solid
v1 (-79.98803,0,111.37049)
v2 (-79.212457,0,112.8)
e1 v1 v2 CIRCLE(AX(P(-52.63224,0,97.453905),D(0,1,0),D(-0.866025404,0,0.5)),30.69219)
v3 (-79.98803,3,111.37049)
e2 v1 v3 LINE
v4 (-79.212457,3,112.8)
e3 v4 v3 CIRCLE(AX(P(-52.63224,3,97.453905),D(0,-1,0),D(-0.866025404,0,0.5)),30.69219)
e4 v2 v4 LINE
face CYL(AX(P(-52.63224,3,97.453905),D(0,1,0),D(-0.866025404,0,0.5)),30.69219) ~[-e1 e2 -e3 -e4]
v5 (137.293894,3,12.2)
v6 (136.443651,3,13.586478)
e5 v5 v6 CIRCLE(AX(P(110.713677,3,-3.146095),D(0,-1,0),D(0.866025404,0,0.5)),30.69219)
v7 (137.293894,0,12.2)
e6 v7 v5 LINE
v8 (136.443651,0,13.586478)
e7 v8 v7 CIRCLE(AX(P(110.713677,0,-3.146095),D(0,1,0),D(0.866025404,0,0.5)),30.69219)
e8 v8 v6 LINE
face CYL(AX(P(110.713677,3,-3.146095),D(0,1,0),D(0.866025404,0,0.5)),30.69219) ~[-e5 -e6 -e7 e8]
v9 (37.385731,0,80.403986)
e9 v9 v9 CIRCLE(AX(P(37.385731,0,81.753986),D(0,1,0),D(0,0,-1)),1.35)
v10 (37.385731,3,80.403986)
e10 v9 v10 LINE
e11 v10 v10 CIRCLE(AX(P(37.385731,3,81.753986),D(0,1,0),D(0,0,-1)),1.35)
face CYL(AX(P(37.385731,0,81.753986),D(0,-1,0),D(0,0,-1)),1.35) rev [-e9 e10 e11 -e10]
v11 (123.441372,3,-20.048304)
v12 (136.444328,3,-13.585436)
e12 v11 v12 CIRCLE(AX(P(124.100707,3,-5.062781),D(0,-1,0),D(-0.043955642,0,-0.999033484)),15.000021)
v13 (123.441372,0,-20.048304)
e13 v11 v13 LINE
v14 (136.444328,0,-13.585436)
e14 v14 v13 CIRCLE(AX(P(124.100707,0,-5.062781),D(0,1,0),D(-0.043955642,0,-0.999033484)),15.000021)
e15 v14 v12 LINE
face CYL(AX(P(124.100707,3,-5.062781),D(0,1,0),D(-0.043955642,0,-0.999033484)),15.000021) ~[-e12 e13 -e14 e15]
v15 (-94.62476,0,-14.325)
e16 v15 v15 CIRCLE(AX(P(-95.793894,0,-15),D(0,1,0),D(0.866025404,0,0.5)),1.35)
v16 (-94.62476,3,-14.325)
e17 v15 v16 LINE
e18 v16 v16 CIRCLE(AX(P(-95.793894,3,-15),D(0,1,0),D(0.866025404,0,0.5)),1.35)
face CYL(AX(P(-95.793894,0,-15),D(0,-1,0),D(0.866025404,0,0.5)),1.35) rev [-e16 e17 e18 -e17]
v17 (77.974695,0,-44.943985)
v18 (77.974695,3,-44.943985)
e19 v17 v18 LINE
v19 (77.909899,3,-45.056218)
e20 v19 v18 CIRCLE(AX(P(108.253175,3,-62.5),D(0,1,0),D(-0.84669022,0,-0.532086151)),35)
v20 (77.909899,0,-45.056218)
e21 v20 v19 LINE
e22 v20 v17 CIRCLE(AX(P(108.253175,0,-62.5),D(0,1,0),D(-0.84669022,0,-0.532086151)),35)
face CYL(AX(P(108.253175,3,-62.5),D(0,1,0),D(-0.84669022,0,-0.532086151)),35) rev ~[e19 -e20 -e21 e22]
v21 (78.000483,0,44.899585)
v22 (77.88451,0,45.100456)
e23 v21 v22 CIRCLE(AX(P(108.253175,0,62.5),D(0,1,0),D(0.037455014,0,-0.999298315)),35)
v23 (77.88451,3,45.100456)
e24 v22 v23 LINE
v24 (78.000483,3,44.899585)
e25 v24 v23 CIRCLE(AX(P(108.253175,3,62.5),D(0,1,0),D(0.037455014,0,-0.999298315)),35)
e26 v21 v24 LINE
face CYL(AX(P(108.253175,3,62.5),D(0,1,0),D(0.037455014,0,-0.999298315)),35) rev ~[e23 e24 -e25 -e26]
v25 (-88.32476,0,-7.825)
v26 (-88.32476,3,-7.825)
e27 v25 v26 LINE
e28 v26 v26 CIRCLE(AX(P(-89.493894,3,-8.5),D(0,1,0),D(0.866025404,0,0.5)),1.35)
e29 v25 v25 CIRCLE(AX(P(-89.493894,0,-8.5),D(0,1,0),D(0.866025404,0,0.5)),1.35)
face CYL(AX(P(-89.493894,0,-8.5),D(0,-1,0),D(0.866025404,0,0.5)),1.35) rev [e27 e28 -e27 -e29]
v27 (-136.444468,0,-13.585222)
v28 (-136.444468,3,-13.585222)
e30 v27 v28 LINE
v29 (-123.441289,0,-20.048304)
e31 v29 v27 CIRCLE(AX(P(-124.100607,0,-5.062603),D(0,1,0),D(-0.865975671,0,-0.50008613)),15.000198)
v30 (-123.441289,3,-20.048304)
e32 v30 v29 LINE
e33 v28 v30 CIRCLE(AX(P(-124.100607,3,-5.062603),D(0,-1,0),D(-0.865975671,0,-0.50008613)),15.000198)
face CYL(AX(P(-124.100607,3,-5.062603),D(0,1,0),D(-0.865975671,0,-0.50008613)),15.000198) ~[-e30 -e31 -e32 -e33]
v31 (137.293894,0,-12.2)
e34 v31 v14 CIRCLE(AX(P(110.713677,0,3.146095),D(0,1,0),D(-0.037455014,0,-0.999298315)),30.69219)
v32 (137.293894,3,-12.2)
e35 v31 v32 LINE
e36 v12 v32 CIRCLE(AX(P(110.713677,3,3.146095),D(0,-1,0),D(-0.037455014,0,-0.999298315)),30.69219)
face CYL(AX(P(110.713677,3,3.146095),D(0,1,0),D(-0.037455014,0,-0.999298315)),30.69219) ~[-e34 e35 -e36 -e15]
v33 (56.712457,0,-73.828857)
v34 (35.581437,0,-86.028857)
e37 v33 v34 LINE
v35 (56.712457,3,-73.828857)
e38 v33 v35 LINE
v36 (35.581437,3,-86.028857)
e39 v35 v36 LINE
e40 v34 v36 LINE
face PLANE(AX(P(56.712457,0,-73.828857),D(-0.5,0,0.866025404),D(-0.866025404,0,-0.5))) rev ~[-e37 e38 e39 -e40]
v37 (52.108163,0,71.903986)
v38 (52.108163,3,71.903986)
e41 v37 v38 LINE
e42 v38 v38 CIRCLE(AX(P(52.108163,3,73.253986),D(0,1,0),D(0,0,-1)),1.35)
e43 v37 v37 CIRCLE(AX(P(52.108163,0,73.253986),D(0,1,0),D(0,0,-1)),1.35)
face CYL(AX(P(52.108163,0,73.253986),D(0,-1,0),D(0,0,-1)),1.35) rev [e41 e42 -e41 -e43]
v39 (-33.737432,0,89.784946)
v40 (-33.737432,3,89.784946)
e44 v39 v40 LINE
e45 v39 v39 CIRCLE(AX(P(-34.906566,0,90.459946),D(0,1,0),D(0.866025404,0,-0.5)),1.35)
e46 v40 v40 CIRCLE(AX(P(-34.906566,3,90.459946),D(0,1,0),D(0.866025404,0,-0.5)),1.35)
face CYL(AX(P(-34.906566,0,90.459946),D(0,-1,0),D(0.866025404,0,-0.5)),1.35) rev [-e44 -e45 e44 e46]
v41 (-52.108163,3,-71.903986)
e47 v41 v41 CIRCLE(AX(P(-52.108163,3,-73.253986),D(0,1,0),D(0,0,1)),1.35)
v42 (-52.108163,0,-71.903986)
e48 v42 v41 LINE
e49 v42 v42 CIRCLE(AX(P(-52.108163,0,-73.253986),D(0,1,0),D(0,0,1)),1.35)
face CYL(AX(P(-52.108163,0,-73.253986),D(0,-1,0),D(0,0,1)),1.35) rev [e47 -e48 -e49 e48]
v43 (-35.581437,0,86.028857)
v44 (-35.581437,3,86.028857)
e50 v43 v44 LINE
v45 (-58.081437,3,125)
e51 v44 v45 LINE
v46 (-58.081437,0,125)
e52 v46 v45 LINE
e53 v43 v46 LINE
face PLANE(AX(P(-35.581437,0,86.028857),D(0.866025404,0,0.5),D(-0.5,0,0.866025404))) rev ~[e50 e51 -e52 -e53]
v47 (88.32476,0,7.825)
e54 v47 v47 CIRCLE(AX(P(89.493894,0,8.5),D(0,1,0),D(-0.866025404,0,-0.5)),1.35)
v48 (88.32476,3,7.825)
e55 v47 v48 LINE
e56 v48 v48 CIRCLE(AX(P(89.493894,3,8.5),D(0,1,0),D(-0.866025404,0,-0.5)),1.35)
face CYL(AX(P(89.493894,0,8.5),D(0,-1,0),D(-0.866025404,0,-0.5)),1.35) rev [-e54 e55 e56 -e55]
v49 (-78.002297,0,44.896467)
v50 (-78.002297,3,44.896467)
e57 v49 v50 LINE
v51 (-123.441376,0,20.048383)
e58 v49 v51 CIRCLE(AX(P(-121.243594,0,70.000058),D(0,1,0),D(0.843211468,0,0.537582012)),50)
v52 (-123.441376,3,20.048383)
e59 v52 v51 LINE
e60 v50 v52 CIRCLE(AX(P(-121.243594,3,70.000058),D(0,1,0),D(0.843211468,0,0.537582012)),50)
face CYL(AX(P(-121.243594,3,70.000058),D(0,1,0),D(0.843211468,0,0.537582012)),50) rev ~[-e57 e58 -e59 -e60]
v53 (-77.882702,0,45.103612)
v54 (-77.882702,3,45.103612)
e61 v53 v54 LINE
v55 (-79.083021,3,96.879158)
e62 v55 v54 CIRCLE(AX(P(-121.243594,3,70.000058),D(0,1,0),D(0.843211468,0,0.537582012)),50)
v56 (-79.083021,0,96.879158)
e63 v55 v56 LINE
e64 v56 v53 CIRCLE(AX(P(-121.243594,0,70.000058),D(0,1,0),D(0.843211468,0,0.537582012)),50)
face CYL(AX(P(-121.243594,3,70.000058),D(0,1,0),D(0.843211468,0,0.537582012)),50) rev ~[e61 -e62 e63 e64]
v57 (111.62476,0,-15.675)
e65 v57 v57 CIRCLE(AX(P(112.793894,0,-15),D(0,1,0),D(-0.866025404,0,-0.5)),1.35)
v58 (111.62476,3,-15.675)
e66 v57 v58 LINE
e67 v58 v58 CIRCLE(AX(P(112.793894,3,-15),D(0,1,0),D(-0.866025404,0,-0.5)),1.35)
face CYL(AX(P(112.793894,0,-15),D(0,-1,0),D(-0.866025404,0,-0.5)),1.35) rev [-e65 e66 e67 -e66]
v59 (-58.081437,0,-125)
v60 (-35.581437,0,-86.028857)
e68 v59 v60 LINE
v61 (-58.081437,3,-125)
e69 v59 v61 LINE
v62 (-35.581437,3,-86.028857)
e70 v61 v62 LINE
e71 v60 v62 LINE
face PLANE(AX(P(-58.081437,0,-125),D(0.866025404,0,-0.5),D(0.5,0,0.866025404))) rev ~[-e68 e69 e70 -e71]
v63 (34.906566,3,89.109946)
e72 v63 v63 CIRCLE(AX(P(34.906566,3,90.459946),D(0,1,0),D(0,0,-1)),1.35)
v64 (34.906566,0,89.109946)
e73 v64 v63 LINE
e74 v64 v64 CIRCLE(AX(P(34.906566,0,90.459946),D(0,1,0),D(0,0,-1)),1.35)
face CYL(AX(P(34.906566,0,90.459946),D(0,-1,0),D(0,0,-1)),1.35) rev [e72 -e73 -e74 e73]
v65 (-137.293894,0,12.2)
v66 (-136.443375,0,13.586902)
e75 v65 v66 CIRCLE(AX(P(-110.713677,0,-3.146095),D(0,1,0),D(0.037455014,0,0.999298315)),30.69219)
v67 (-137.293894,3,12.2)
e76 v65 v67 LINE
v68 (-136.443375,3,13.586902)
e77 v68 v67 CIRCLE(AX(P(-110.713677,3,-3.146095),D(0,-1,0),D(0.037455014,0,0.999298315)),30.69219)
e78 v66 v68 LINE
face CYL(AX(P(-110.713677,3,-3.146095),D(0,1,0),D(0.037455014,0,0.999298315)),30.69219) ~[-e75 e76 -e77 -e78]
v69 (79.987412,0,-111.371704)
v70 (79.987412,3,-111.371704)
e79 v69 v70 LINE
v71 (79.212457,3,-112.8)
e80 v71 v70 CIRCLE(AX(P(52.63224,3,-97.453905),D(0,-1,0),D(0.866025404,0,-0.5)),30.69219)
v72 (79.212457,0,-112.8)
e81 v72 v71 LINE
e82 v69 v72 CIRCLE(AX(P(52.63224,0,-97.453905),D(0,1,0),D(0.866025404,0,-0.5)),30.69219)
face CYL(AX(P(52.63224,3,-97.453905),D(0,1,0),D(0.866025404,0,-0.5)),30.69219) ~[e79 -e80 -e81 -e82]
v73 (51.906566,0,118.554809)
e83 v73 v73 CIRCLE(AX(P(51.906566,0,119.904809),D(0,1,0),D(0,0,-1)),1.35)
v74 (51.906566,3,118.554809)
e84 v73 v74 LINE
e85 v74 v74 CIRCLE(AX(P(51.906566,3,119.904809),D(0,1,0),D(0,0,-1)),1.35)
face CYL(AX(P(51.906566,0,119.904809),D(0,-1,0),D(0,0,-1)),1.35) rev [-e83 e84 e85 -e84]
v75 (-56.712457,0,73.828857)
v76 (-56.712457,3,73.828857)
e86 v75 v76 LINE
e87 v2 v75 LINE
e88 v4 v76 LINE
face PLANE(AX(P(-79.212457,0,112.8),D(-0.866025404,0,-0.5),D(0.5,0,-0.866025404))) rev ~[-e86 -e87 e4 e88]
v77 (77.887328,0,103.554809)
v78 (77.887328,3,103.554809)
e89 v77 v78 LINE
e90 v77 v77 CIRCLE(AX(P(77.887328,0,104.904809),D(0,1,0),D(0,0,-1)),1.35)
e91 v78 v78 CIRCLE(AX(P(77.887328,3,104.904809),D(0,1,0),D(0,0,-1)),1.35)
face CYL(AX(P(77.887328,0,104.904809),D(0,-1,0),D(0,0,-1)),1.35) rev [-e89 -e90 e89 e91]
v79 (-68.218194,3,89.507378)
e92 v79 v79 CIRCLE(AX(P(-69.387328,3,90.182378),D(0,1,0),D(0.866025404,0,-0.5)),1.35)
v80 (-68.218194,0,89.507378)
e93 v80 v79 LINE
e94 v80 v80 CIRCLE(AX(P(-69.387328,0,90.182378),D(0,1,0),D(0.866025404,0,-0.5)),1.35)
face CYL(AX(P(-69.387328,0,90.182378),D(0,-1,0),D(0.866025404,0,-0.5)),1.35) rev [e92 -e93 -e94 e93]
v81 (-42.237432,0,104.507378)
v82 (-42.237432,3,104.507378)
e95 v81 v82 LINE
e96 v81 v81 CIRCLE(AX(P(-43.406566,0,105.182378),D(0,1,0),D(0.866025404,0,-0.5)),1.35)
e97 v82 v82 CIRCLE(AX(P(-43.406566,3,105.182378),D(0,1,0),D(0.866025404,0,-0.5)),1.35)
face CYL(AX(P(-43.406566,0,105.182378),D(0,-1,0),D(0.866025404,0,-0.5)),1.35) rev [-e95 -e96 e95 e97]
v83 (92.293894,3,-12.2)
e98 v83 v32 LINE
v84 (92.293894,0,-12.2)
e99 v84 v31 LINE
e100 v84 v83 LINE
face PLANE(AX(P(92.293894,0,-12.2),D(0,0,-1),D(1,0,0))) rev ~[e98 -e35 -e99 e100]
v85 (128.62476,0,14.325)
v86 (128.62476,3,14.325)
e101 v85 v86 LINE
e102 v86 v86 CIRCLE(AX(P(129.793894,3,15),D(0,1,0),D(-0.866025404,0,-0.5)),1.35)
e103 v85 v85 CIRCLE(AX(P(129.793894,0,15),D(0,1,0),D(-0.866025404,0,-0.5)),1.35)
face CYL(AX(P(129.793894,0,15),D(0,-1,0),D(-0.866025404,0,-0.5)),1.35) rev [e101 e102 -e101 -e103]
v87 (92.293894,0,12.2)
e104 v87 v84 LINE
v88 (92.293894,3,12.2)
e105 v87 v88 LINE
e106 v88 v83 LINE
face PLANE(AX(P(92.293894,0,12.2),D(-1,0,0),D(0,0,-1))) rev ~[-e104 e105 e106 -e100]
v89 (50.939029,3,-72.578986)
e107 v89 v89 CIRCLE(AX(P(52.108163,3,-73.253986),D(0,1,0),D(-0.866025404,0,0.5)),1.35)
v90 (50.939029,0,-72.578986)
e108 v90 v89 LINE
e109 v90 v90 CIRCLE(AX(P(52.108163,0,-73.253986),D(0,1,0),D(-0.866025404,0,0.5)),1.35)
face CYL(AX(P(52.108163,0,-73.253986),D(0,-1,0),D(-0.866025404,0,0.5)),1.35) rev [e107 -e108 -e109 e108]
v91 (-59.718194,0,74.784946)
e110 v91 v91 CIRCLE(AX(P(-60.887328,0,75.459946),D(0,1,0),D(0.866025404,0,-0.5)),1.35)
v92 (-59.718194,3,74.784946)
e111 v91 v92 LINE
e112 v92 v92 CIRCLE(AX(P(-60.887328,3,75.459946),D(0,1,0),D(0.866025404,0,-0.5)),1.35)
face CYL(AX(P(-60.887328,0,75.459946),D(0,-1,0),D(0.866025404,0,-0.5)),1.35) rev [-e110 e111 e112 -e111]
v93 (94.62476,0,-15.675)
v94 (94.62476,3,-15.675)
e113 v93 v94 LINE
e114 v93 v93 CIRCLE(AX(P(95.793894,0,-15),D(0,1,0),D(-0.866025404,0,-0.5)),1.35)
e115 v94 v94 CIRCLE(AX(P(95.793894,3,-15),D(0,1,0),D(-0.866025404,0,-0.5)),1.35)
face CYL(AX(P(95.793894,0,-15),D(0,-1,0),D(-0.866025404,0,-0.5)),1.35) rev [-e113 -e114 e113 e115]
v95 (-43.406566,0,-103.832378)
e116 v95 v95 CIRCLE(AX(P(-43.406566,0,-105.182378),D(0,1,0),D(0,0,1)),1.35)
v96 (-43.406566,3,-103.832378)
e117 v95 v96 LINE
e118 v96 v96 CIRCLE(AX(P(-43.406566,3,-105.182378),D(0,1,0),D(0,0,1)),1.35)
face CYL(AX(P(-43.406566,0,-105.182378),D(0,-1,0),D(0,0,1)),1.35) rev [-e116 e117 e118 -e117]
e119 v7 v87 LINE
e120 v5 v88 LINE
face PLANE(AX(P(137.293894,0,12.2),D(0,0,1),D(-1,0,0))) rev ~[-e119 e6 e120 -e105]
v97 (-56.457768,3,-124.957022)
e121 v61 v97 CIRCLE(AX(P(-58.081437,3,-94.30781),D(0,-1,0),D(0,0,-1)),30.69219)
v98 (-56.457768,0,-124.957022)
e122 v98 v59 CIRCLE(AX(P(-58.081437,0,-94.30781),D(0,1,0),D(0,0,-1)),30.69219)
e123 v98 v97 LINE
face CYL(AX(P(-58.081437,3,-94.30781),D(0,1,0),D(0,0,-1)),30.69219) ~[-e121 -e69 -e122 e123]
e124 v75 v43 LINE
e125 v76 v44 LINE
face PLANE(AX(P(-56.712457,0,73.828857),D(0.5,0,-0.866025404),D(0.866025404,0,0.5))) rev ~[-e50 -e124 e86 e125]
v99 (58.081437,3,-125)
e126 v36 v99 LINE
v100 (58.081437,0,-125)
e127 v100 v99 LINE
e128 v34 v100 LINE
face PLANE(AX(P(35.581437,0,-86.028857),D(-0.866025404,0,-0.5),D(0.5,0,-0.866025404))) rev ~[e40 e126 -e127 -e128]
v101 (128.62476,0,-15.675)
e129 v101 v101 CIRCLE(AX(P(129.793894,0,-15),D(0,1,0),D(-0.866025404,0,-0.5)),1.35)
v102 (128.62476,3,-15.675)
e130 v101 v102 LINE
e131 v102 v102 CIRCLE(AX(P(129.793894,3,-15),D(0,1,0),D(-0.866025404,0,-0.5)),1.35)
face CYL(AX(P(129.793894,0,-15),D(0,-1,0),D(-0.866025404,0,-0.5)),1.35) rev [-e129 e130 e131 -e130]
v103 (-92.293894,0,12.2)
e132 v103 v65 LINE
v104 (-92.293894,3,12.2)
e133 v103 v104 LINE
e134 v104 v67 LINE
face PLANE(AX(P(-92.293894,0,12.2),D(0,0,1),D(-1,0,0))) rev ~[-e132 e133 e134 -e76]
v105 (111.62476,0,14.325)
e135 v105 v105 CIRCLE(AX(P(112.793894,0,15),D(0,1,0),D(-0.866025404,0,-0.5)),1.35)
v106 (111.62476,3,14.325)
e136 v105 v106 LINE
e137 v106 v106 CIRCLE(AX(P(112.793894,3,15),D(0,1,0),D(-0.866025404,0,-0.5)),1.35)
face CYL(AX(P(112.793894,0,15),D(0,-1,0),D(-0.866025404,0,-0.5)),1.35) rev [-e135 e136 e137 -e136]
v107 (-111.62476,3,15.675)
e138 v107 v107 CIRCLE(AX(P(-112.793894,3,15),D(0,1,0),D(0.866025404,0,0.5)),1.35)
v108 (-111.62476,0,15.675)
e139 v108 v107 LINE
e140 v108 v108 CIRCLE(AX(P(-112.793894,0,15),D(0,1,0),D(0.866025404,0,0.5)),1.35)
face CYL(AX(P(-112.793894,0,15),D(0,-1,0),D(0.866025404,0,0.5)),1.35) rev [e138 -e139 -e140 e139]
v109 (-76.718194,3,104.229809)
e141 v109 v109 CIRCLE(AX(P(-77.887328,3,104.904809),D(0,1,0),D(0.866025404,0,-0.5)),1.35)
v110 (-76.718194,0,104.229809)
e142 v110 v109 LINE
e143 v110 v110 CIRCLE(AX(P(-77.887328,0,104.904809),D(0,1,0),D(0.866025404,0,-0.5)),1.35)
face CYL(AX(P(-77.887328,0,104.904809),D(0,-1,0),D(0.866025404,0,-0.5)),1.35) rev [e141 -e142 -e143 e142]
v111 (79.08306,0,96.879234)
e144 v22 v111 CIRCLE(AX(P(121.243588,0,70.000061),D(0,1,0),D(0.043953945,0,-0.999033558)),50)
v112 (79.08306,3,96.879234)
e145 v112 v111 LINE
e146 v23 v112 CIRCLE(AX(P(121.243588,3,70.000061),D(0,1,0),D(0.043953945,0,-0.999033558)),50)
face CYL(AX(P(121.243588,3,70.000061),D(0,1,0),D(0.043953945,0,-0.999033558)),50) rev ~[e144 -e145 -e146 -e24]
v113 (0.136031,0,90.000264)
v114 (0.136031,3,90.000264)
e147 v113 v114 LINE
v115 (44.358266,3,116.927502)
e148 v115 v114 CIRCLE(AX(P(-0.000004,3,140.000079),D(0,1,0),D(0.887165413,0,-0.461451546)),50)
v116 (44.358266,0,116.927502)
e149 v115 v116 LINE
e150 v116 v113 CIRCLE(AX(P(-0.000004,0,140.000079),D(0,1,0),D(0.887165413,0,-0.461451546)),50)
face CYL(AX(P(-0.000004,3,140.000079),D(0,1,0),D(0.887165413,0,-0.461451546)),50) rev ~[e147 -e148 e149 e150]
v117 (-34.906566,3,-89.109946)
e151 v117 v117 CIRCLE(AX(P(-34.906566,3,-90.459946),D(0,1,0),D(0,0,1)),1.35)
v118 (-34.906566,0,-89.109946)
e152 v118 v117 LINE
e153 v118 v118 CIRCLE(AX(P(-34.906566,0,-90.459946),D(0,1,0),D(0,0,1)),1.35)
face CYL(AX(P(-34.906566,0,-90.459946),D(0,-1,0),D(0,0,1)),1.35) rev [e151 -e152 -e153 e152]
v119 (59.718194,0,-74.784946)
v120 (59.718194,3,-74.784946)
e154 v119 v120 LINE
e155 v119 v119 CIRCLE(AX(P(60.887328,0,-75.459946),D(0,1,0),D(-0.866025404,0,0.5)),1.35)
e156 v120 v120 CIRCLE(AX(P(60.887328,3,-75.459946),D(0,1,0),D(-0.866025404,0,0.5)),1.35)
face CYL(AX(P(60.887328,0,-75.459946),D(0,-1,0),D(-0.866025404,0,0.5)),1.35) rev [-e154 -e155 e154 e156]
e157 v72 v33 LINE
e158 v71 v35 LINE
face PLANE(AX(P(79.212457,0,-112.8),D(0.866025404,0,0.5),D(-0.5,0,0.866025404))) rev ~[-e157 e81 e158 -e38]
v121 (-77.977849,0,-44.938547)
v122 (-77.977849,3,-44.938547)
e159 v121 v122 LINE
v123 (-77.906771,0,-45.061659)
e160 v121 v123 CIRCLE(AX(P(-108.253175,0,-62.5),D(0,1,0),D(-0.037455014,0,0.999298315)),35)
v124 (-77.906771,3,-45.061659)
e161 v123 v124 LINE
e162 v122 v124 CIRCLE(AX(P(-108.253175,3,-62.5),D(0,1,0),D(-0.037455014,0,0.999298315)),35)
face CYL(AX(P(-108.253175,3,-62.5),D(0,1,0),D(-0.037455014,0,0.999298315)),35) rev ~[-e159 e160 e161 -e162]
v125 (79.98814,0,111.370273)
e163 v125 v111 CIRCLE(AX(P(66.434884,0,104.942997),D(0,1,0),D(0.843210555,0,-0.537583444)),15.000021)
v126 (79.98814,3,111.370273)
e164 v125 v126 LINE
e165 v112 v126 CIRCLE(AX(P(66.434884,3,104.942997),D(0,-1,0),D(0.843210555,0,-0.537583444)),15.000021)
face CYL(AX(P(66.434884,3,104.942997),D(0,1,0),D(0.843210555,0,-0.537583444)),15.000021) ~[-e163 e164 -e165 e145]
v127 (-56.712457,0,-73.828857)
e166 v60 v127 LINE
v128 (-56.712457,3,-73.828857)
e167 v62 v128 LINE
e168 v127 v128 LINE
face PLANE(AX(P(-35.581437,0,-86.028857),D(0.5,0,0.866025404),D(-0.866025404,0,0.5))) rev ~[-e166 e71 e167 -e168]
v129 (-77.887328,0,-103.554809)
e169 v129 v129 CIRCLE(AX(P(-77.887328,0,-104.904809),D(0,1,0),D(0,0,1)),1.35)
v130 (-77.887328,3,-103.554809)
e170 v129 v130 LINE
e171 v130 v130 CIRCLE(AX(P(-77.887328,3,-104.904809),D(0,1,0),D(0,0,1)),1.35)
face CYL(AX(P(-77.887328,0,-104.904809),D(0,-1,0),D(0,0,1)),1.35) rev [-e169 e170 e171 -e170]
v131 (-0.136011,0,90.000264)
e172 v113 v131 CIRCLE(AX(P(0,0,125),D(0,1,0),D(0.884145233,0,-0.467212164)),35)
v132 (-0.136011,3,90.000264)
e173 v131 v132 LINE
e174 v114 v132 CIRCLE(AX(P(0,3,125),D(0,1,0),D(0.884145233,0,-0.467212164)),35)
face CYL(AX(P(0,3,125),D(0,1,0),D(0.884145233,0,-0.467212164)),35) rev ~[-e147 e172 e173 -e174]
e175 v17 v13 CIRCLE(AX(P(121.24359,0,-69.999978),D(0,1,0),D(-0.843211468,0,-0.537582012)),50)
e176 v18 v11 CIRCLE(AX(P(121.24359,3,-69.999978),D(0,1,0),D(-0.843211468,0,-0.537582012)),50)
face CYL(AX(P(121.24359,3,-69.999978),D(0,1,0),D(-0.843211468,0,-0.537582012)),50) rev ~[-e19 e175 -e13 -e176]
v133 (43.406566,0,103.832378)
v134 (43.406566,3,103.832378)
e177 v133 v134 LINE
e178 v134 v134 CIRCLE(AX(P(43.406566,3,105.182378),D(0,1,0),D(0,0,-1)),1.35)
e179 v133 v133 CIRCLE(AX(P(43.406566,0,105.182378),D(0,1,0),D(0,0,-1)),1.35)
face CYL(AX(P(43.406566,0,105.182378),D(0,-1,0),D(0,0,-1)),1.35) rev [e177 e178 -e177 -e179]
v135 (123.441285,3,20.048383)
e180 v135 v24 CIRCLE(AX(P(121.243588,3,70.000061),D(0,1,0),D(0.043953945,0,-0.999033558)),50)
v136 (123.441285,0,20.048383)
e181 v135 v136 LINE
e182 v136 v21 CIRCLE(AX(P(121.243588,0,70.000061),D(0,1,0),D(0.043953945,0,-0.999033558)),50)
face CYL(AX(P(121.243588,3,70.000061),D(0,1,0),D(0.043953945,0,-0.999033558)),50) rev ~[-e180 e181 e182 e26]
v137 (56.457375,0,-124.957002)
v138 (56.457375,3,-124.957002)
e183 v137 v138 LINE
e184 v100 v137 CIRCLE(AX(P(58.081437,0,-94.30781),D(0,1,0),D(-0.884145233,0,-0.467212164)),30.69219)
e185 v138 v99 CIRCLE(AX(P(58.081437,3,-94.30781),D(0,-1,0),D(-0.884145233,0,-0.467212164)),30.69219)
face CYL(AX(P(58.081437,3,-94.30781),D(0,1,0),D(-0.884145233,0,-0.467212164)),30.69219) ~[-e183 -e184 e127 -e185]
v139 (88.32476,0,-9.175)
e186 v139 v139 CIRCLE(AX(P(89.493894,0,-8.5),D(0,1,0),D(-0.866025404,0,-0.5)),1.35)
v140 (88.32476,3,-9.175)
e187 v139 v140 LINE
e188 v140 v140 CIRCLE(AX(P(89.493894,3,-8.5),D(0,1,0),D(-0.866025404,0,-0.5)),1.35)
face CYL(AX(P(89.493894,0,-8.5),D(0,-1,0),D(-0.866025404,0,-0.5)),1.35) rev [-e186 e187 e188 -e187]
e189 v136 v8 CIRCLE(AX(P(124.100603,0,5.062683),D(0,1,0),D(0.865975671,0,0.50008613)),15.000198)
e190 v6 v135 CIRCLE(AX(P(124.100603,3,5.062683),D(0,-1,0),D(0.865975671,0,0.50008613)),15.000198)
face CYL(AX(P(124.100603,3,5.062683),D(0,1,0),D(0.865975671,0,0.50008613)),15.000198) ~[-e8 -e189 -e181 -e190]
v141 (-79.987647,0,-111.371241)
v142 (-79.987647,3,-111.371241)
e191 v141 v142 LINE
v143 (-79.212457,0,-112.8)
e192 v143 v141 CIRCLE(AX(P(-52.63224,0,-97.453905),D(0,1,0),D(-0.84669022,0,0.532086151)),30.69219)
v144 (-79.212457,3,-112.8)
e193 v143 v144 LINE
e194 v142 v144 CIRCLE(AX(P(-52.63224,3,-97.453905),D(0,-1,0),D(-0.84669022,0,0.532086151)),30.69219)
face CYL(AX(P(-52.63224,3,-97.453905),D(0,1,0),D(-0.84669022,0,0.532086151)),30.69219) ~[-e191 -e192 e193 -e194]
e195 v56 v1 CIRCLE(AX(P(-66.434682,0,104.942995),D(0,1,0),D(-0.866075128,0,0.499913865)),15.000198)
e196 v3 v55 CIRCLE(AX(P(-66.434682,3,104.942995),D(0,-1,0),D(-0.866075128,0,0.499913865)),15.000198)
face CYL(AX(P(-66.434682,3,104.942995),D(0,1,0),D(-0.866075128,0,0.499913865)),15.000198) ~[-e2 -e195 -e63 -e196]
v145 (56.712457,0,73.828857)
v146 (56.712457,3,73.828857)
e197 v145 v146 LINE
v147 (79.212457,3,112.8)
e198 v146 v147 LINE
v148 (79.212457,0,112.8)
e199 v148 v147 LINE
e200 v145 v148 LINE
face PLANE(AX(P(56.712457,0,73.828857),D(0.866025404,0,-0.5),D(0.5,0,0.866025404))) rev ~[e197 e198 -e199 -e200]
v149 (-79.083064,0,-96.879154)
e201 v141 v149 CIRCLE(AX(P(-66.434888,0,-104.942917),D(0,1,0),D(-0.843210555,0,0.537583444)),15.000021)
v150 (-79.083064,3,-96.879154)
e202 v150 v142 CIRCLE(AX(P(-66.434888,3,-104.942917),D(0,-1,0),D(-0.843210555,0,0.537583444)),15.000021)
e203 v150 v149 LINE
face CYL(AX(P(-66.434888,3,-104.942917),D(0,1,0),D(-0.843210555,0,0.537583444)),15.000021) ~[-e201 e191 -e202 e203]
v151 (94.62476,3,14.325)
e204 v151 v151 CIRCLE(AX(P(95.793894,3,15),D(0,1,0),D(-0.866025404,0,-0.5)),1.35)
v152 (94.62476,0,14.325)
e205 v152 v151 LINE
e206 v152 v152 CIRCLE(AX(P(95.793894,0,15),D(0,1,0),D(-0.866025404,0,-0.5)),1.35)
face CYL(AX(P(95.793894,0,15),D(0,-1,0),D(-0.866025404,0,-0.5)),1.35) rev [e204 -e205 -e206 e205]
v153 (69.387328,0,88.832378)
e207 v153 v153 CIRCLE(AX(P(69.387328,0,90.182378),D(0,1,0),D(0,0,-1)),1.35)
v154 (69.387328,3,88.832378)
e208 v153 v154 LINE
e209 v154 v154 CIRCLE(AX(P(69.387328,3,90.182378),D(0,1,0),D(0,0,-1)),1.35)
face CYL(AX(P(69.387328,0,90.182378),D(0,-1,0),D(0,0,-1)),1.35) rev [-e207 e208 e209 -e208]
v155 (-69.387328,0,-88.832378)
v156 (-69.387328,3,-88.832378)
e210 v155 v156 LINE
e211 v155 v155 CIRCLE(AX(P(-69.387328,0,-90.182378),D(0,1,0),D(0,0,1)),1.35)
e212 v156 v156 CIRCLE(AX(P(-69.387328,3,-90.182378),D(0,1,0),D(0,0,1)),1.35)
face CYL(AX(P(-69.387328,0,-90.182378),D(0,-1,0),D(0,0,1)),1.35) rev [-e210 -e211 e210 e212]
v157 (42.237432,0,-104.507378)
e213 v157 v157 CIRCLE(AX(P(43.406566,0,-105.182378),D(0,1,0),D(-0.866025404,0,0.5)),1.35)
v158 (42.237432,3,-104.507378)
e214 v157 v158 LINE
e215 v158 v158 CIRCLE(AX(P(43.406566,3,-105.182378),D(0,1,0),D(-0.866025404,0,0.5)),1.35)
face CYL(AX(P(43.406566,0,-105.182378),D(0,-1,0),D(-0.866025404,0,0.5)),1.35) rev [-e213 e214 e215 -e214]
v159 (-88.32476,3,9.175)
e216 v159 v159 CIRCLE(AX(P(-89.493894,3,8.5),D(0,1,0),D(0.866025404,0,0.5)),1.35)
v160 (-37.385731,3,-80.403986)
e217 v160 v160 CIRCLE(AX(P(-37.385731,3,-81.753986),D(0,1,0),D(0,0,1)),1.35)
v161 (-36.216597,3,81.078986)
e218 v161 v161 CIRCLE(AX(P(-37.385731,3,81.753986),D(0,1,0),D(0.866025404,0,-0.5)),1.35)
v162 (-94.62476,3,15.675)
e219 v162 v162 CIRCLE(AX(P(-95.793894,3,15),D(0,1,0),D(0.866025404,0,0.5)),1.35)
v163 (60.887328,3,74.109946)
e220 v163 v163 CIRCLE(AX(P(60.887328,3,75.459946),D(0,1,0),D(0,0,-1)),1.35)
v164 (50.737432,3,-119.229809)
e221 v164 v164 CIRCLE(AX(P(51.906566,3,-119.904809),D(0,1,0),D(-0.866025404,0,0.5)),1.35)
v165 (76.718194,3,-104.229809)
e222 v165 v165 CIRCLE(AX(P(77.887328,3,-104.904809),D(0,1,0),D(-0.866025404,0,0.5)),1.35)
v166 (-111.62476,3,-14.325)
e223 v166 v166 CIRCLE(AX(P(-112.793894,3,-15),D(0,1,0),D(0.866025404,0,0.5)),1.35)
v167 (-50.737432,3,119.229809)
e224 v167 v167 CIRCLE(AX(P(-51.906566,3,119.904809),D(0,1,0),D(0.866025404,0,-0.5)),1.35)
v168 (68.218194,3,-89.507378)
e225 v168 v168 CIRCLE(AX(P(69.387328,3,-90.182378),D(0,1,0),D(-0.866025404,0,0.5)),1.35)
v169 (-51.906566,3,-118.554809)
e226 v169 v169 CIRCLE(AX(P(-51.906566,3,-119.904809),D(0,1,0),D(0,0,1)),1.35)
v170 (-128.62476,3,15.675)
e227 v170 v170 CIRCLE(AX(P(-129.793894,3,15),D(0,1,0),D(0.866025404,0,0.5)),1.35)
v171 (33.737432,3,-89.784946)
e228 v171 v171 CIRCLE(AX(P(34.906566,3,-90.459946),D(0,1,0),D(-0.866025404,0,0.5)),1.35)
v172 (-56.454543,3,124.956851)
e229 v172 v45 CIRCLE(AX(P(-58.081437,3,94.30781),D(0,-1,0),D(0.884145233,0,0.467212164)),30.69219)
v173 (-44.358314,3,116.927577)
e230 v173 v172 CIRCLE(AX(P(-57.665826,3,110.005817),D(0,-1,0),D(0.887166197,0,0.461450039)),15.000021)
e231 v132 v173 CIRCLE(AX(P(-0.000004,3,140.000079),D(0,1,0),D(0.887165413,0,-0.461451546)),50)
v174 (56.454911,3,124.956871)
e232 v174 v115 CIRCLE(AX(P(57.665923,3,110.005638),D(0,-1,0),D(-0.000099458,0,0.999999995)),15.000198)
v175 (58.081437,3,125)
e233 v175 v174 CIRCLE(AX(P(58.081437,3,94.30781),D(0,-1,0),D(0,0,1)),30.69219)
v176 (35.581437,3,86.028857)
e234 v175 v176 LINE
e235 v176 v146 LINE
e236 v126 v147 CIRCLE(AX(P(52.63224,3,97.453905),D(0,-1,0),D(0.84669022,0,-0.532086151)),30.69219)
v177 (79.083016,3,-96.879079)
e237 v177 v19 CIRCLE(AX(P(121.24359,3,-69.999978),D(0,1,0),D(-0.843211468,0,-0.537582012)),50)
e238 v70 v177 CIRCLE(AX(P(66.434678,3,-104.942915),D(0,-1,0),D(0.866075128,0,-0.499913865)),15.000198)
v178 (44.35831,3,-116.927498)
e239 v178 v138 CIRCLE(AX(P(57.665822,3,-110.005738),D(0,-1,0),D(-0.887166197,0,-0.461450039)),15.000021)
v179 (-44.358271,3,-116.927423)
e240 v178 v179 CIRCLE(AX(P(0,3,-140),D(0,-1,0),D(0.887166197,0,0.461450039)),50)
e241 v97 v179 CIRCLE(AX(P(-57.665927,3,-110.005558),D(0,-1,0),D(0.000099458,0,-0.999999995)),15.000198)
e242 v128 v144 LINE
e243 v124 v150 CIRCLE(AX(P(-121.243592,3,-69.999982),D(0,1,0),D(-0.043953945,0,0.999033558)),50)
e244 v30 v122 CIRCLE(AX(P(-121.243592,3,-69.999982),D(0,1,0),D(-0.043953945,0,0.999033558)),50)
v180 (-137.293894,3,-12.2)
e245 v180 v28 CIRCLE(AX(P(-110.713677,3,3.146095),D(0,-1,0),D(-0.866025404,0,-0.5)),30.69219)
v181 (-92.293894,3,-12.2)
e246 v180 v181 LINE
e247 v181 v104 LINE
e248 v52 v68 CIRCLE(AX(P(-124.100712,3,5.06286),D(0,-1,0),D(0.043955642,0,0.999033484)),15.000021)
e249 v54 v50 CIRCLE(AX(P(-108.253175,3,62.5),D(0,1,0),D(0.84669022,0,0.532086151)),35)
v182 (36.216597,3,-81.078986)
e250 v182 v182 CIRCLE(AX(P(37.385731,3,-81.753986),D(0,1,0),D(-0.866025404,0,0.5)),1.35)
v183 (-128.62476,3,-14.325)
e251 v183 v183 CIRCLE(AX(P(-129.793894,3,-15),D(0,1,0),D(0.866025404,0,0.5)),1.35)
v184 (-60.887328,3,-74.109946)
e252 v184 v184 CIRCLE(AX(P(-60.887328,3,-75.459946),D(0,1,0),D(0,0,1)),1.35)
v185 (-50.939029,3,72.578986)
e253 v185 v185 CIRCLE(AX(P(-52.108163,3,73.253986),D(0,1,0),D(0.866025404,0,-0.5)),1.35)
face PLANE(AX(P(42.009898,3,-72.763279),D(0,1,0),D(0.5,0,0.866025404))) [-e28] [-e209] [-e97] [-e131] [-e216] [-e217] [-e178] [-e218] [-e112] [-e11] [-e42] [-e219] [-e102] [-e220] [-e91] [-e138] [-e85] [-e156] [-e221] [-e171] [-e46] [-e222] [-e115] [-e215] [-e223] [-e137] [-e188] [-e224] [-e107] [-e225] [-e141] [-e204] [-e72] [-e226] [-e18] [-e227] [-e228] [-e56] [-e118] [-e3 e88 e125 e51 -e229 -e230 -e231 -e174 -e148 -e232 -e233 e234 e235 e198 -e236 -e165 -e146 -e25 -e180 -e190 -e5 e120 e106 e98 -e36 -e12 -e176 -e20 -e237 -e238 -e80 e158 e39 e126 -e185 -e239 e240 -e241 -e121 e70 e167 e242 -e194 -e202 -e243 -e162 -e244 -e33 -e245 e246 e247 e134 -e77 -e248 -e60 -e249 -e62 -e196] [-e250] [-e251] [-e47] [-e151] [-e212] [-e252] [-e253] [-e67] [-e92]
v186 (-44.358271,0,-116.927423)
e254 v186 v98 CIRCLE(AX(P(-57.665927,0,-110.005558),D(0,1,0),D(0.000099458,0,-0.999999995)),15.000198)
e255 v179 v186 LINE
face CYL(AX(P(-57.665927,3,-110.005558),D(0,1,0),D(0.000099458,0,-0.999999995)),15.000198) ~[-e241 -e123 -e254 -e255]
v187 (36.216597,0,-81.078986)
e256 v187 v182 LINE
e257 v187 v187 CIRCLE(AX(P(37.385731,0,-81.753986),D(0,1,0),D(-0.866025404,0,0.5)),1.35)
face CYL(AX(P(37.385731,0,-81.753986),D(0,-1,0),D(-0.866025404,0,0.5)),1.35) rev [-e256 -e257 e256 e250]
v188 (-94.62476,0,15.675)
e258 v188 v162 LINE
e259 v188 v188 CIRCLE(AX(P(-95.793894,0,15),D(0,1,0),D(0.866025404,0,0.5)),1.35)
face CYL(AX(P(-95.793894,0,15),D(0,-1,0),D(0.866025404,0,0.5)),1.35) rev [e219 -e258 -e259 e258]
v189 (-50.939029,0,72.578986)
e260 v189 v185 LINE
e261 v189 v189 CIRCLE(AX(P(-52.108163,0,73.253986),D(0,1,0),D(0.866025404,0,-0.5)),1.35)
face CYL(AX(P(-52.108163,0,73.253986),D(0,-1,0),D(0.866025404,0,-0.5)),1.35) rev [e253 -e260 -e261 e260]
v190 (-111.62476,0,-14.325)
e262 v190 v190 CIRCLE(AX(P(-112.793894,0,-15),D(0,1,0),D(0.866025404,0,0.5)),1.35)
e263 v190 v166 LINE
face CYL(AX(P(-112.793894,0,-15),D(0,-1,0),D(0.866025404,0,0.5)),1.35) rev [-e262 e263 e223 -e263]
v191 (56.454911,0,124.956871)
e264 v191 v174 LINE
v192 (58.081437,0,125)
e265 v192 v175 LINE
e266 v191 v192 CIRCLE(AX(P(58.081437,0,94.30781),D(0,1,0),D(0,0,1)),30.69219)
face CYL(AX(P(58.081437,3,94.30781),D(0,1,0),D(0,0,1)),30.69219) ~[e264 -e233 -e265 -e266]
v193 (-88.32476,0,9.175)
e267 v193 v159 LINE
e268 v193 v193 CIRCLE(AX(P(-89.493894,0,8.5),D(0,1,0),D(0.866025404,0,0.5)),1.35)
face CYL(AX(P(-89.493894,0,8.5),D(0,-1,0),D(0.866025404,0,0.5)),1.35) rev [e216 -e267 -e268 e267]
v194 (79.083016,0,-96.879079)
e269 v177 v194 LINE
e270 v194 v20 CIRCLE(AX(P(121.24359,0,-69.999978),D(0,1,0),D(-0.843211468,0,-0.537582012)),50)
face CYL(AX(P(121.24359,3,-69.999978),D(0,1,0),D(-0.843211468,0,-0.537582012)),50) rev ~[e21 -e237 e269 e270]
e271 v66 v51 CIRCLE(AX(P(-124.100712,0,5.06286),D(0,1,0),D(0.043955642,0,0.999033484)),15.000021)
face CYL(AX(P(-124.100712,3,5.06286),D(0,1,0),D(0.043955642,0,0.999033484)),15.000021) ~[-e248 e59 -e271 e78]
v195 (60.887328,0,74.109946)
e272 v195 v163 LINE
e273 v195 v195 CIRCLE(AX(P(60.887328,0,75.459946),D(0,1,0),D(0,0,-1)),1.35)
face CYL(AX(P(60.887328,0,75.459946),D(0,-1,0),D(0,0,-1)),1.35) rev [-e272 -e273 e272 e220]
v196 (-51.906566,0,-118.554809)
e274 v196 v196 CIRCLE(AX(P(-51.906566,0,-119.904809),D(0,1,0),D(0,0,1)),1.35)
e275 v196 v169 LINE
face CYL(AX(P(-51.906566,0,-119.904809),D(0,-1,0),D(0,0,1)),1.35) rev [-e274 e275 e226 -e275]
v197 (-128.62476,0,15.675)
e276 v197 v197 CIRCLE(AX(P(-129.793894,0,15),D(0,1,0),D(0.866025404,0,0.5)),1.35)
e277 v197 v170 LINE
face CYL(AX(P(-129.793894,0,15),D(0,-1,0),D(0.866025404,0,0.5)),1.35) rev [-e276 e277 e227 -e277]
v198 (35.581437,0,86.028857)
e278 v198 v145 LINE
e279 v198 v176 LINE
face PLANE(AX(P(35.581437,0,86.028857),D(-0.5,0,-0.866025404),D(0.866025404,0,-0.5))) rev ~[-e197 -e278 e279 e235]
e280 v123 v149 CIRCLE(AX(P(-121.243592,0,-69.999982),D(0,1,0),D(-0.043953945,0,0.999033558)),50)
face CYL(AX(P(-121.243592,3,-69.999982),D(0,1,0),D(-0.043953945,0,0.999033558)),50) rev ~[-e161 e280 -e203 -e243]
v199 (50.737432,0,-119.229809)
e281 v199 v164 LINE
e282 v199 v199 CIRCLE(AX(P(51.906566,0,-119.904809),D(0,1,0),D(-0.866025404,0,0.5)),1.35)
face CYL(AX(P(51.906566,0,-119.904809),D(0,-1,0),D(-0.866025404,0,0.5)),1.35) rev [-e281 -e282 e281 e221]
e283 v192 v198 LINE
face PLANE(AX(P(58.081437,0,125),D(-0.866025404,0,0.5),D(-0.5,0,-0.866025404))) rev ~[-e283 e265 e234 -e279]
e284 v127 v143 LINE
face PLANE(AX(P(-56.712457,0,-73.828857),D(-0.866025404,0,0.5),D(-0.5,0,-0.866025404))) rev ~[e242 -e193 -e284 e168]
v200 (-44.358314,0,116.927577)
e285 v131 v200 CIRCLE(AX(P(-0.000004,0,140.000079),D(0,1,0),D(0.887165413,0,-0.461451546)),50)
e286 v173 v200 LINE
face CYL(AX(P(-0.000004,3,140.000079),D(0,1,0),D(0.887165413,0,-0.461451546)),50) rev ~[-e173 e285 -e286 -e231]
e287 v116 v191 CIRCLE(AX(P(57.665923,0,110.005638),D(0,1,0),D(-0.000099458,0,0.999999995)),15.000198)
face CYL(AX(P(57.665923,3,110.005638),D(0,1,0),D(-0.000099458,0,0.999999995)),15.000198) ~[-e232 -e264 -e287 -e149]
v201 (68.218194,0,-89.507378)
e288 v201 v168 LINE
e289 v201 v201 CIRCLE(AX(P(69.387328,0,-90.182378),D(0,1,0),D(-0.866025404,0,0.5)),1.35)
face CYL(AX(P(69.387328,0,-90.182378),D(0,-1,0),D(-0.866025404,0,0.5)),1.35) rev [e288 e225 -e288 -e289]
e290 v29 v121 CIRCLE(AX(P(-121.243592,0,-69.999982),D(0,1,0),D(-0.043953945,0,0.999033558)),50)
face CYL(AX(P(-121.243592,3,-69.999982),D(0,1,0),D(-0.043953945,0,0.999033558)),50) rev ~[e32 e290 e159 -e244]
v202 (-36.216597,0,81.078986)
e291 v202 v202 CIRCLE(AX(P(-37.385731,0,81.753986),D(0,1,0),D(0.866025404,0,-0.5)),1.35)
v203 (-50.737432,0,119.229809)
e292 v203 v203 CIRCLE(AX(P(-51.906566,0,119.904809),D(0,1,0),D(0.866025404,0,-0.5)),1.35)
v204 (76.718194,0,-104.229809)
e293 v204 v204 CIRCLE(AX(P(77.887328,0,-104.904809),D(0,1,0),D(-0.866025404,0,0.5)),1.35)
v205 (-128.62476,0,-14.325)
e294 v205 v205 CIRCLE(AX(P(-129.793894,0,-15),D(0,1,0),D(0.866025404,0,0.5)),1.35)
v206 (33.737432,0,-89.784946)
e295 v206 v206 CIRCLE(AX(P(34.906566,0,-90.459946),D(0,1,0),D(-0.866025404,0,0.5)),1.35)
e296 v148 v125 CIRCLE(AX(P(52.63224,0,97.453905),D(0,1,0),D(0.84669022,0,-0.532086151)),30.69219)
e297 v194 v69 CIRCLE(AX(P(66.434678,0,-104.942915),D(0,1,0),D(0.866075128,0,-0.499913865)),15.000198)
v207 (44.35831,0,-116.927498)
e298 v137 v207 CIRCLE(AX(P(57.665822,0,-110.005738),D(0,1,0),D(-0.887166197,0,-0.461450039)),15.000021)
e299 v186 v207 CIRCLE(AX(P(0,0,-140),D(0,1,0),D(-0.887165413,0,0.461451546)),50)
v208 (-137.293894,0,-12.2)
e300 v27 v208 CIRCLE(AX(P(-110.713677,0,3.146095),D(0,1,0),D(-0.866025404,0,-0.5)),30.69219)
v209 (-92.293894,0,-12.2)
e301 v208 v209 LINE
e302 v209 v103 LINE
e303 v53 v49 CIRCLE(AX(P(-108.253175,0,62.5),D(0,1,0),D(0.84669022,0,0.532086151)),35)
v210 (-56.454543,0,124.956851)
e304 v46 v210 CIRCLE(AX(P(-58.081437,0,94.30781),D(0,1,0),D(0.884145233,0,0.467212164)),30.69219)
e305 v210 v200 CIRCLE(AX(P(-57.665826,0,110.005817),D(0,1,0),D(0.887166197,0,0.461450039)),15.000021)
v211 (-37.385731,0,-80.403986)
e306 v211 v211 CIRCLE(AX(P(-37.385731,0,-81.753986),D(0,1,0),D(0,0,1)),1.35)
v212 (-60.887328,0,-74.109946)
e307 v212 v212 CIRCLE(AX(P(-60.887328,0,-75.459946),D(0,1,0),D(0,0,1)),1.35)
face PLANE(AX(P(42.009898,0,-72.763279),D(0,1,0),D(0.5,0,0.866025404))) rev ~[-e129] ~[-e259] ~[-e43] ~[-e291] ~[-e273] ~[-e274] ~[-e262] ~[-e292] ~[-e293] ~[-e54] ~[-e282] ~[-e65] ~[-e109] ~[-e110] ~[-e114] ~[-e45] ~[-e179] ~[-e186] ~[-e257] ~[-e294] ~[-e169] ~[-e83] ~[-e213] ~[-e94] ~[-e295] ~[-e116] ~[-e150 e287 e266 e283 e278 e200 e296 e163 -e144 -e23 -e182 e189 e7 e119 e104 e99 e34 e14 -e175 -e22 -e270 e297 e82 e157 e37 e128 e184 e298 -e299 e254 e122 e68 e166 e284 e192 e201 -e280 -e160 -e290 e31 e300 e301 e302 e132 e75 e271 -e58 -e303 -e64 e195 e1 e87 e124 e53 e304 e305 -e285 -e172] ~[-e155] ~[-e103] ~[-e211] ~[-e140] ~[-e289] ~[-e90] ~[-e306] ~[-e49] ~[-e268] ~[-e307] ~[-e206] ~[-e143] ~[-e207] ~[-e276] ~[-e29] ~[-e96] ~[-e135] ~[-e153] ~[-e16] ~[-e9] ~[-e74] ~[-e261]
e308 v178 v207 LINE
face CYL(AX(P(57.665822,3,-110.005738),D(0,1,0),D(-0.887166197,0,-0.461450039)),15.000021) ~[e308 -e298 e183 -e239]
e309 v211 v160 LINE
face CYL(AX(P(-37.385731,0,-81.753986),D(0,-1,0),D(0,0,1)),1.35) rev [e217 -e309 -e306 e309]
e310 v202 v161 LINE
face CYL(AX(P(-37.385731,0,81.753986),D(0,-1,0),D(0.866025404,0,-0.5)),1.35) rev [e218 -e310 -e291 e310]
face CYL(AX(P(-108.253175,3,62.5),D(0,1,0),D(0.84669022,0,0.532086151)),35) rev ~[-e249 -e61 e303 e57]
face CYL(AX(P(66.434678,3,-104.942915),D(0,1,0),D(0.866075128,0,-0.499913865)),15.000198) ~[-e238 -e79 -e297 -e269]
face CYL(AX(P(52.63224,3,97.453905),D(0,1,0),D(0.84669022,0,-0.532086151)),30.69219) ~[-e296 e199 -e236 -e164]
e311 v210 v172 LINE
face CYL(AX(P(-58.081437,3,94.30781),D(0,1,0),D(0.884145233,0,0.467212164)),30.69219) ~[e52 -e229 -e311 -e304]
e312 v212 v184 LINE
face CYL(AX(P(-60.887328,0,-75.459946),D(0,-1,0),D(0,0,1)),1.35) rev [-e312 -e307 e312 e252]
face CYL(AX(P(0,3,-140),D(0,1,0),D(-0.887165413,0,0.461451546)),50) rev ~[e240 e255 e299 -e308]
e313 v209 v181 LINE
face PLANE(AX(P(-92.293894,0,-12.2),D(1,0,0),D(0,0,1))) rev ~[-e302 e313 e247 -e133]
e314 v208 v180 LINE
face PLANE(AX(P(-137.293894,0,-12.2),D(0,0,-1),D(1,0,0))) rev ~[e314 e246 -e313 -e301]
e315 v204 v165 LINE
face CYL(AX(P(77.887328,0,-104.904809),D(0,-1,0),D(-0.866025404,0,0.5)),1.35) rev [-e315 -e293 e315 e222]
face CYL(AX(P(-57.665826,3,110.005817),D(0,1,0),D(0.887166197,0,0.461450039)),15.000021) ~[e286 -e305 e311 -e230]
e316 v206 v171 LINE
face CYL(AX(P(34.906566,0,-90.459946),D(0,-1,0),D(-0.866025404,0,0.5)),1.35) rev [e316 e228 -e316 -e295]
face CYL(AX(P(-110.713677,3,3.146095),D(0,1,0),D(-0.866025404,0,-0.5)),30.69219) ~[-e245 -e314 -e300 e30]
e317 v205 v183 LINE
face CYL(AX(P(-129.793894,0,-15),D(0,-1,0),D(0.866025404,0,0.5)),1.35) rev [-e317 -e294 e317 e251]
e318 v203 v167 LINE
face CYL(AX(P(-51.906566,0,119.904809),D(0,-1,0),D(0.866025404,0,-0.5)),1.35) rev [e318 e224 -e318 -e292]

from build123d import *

# Parameters (mm, degrees)
SKETCH2_R           = 1.35
BOSS_EXTRUDE1_DEPTH = 3
CIRPATTERN1_COUNT   = 6
CUT_EXTRUDE3_DEPTH  = 5
CUT_EXTRUDE9_DEPTH  = 10


with BuildPart() as part:
    # Sketch2 → Boss-Extrude1 (new body)
    with BuildSketch(Plane(origin=(0, 0, 0), x_dir=(1, 0, 0), z_dir=(0, 1, 0))):
        Polygon((0, 125), (-58.08143708, 125), (-35.58143708, 86.02885683), (-56.712456933, 73.82885683), (-79.212456933, 112.8), (-108.253175473, 62.5), (0, 0), align=None)
        with Locations(Location((-37.385731074, 81.753985699, 0), (0, 0, 270))):
            Circle(SKETCH2_R, mode=Mode.SUBTRACT)
        with Locations(Location((-52.108162939, 73.253985699, 0), (0, 0, 270))):
            Circle(SKETCH2_R, mode=Mode.SUBTRACT)
        with Locations(Location((-60.887328063, 75.459945743, 0), (0, 0, 270))):
            Circle(SKETCH2_R, mode=Mode.SUBTRACT)
        with Locations(Location((-34.90656595, 90.459945743, 0), (0, 0, 270))):
            Circle(SKETCH2_R, mode=Mode.SUBTRACT)
        with Locations(Location((-51.90656595, 119.904809472, 0), (0, 0, 270))):
            Circle(SKETCH2_R, mode=Mode.SUBTRACT)
        with Locations(Location((-43.40656595, 105.182377607, 0), (0, 0, 270))):
            Circle(SKETCH2_R, mode=Mode.SUBTRACT)
        with Locations(Location((-69.387328063, 90.182377607, 0), (0, 0, 270))):
            Circle(SKETCH2_R, mode=Mode.SUBTRACT)
        with Locations(Location((-77.887328063, 104.904809472, 0), (0, 0, 270))):
            Circle(SKETCH2_R, mode=Mode.SUBTRACT)
    boss_extrude1 = extrude(amount=BOSS_EXTRUDE1_DEPTH)

    # CirPattern1: Boss-Extrude1 ×6 about axis
    cirpattern1_axis = Axis((0, 0, 0), (0, 1, 0))
    for i in range(1, CIRPATTERN1_COUNT):
        add(boss_extrude1.rotate(cirpattern1_axis, i * 360 / CIRPATTERN1_COUNT))

    # Sketch4 → Cut-Extrude3 (cut)
    with BuildSketch(Plane(origin=(0, 3, 0), x_dir=(1, 0, 0), z_dir=(0, 1, 0))):
        with BuildLine():
            Line((79.212456933, -112.8), (137.293894013, -12.2))
            ThreePointArc((137.293894013, -12.2), (125.5592118, -23.716902798), (109.56410095, -27.524558982))
            ThreePointArc((109.56410095, -27.524558982), (77.942286341, -45), (78.619017782, -81.123015275))
            ThreePointArc((78.619017782, -81.123015275), (83.319046223, -96.879015699), (79.212456933, -112.8))
        make_face()
        with BuildLine():
            Line((137.293894013, 12.2), (79.212456933, 112.8))
            ThreePointArc((79.212456933, 112.8), (83.319046223, 96.879015699), (78.619017782, 81.123015275))
            ThreePointArc((78.619017782, 81.123015275), (77.942286341, 45), (109.56410095, 27.524558982))
            ThreePointArc((109.56410095, 27.524558982), (125.5592118, 23.716902798), (137.293894013, 12.2))
        make_face()
        with BuildLine():
            Line((58.08143708, 125), (-58.08143708, 125))
            ThreePointArc((-58.08143708, 125), (-42.240165578, 120.595918497), (-30.945083169, 108.647574257))
            ThreePointArc((-30.945083169, 108.647574257), (0, 90), (30.945083169, 108.647574257))
            ThreePointArc((30.945083169, 108.647574257), (42.240165578, 120.595918497), (58.08143708, 125))
        make_face()
        with BuildLine():
            Line((-79.212456933, 112.8), (-137.293894013, 12.2))
            ThreePointArc((-137.293894013, 12.2), (-125.5592118, 23.716902798), (-109.56410095, 27.524558982))
            ThreePointArc((-109.56410095, 27.524558982), (-77.942286341, 45), (-78.619017782, 81.123015275))
            ThreePointArc((-78.619017782, 81.123015275), (-83.319046223, 96.879015699), (-79.212456933, 112.8))
        make_face()
        with BuildLine():
            Line((-137.293894013, -12.2), (-79.212456933, -112.8))
            ThreePointArc((-79.212456933, -112.8), (-83.319046223, -96.879015699), (-78.619017782, -81.123015275))
            ThreePointArc((-78.619017782, -81.123015275), (-77.942286341, -45), (-109.56410095, -27.524558982))
            ThreePointArc((-109.56410095, -27.524558982), (-125.5592118, -23.716902798), (-137.293894013, -12.2))
        make_face()
        with BuildLine():
            Line((-58.08143708, -125), (58.08143708, -125))
            ThreePointArc((58.08143708, -125), (42.240165578, -120.595918497), (30.945083169, -108.647574257))
            ThreePointArc((30.945083169, -108.647574257), (0, -90), (-30.945083169, -108.647574257))
            ThreePointArc((-30.945083169, -108.647574257), (-42.240165578, -120.595918497), (-58.08143708, -125))
        make_face()
    extrude(amount=-CUT_EXTRUDE3_DEPTH, mode=Mode.SUBTRACT)

    # Sketch8 → Cut-Extrude9 (cut)
    with BuildSketch(Plane(origin=(0, 3, 0), x_dir=(1, 0, 0), z_dir=(0, 1, 0))):
        with BuildLine():
            Line((-79.627397697, 112.081427342), (-137.090413308, 12.563994028))
            ThreePointArc((-137.090413308, 12.563994028), (-131.312677504, 18.215244412), (-123.44128918, 20.048304088))
            ThreePointArc((-123.44128918, 20.048304088), (-77.942300503, 45.000018775), (-79.083064161, 96.879154221))
            ThreePointArc((-79.083064161, 96.879154221), (-81.425302856, 104.406169658), (-79.627397697, 112.081427342))
        make_face()
        with BuildLine():
            Line((-136.879097611, -12.918653567), (-79.425980046, -112.441801521))
            ThreePointArc((-79.425980046, -112.441801521), (-81.43123854, -104.612510346), (-79.083020624, -96.879158257))
            ThreePointArc((-79.083020624, -96.879158257), (-77.942345072, -45.000020873), (-123.441376125, -20.048383457))
            ThreePointArc((-123.441376125, -20.048383457), (-131.131082054, -18.31331395), (-136.879097611, -12.918653567))
        make_face()
        with BuildLine():
            Line((-57.251702025, -125.000120556), (57.66443115, -125.005835196))
            ThreePointArc((57.66443115, -125.005835196), (49.881436852, -122.827794405), (44.358266444, -116.927501992))
            ThreePointArc((44.358266444, -116.927501992), (-4.6681e-05, -90.000079294), (-44.358314075, -116.927577326))
            ThreePointArc((-44.358314075, -116.927577326), (-49.70578131, -122.719523255), (-57.251702025, -125.000120556))
        make_face()
        with BuildLine():
            Line((79.627393474, -112.081506636), (137.090409084, -12.564073322))
            ThreePointArc((137.090409084, -12.564073322), (131.312673281, -18.215323706), (123.441284957, -20.048383382))
            ThreePointArc((123.441284957, -20.048383382), (77.94229628, -45.000098069), (79.083059938, -96.879233516))
            ThreePointArc((79.083059938, -96.879233516), (81.425298632, -104.406248952), (79.627393474, -112.081506636))
        make_face()
        with BuildLine():
            Line((136.879093387, 12.918574273), (79.425975823, 112.441722226))
            ThreePointArc((79.425975823, 112.441722226), (81.431234317, 104.612431052), (79.083016401, 96.879078963))
            ThreePointArc((79.083016401, 96.879078963), (77.942340849, 44.999941578), (123.441371902, 20.048304163))
            ThreePointArc((123.441371902, 20.048304163), (131.131077831, 18.313234656), (136.879093387, 12.918574273))
        make_face()
        with BuildLine():
            Line((57.251697801, 125.000041262), (-57.664435373, 125.005755901))
            ThreePointArc((-57.664435373, 125.005755901), (-49.881441076, 122.827715111), (-44.358270668, 116.927422698))
            ThreePointArc((-44.358270668, 116.927422698), (4.2458e-05, 90), (44.358309852, 116.927498031))
            ThreePointArc((44.358309852, 116.927498031), (49.705777087, 122.71944396), (57.251697801, 125.000041262))
        make_face()
    extrude(amount=-CUT_EXTRUDE9_DEPTH, mode=Mode.SUBTRACT)


solid = part.part
